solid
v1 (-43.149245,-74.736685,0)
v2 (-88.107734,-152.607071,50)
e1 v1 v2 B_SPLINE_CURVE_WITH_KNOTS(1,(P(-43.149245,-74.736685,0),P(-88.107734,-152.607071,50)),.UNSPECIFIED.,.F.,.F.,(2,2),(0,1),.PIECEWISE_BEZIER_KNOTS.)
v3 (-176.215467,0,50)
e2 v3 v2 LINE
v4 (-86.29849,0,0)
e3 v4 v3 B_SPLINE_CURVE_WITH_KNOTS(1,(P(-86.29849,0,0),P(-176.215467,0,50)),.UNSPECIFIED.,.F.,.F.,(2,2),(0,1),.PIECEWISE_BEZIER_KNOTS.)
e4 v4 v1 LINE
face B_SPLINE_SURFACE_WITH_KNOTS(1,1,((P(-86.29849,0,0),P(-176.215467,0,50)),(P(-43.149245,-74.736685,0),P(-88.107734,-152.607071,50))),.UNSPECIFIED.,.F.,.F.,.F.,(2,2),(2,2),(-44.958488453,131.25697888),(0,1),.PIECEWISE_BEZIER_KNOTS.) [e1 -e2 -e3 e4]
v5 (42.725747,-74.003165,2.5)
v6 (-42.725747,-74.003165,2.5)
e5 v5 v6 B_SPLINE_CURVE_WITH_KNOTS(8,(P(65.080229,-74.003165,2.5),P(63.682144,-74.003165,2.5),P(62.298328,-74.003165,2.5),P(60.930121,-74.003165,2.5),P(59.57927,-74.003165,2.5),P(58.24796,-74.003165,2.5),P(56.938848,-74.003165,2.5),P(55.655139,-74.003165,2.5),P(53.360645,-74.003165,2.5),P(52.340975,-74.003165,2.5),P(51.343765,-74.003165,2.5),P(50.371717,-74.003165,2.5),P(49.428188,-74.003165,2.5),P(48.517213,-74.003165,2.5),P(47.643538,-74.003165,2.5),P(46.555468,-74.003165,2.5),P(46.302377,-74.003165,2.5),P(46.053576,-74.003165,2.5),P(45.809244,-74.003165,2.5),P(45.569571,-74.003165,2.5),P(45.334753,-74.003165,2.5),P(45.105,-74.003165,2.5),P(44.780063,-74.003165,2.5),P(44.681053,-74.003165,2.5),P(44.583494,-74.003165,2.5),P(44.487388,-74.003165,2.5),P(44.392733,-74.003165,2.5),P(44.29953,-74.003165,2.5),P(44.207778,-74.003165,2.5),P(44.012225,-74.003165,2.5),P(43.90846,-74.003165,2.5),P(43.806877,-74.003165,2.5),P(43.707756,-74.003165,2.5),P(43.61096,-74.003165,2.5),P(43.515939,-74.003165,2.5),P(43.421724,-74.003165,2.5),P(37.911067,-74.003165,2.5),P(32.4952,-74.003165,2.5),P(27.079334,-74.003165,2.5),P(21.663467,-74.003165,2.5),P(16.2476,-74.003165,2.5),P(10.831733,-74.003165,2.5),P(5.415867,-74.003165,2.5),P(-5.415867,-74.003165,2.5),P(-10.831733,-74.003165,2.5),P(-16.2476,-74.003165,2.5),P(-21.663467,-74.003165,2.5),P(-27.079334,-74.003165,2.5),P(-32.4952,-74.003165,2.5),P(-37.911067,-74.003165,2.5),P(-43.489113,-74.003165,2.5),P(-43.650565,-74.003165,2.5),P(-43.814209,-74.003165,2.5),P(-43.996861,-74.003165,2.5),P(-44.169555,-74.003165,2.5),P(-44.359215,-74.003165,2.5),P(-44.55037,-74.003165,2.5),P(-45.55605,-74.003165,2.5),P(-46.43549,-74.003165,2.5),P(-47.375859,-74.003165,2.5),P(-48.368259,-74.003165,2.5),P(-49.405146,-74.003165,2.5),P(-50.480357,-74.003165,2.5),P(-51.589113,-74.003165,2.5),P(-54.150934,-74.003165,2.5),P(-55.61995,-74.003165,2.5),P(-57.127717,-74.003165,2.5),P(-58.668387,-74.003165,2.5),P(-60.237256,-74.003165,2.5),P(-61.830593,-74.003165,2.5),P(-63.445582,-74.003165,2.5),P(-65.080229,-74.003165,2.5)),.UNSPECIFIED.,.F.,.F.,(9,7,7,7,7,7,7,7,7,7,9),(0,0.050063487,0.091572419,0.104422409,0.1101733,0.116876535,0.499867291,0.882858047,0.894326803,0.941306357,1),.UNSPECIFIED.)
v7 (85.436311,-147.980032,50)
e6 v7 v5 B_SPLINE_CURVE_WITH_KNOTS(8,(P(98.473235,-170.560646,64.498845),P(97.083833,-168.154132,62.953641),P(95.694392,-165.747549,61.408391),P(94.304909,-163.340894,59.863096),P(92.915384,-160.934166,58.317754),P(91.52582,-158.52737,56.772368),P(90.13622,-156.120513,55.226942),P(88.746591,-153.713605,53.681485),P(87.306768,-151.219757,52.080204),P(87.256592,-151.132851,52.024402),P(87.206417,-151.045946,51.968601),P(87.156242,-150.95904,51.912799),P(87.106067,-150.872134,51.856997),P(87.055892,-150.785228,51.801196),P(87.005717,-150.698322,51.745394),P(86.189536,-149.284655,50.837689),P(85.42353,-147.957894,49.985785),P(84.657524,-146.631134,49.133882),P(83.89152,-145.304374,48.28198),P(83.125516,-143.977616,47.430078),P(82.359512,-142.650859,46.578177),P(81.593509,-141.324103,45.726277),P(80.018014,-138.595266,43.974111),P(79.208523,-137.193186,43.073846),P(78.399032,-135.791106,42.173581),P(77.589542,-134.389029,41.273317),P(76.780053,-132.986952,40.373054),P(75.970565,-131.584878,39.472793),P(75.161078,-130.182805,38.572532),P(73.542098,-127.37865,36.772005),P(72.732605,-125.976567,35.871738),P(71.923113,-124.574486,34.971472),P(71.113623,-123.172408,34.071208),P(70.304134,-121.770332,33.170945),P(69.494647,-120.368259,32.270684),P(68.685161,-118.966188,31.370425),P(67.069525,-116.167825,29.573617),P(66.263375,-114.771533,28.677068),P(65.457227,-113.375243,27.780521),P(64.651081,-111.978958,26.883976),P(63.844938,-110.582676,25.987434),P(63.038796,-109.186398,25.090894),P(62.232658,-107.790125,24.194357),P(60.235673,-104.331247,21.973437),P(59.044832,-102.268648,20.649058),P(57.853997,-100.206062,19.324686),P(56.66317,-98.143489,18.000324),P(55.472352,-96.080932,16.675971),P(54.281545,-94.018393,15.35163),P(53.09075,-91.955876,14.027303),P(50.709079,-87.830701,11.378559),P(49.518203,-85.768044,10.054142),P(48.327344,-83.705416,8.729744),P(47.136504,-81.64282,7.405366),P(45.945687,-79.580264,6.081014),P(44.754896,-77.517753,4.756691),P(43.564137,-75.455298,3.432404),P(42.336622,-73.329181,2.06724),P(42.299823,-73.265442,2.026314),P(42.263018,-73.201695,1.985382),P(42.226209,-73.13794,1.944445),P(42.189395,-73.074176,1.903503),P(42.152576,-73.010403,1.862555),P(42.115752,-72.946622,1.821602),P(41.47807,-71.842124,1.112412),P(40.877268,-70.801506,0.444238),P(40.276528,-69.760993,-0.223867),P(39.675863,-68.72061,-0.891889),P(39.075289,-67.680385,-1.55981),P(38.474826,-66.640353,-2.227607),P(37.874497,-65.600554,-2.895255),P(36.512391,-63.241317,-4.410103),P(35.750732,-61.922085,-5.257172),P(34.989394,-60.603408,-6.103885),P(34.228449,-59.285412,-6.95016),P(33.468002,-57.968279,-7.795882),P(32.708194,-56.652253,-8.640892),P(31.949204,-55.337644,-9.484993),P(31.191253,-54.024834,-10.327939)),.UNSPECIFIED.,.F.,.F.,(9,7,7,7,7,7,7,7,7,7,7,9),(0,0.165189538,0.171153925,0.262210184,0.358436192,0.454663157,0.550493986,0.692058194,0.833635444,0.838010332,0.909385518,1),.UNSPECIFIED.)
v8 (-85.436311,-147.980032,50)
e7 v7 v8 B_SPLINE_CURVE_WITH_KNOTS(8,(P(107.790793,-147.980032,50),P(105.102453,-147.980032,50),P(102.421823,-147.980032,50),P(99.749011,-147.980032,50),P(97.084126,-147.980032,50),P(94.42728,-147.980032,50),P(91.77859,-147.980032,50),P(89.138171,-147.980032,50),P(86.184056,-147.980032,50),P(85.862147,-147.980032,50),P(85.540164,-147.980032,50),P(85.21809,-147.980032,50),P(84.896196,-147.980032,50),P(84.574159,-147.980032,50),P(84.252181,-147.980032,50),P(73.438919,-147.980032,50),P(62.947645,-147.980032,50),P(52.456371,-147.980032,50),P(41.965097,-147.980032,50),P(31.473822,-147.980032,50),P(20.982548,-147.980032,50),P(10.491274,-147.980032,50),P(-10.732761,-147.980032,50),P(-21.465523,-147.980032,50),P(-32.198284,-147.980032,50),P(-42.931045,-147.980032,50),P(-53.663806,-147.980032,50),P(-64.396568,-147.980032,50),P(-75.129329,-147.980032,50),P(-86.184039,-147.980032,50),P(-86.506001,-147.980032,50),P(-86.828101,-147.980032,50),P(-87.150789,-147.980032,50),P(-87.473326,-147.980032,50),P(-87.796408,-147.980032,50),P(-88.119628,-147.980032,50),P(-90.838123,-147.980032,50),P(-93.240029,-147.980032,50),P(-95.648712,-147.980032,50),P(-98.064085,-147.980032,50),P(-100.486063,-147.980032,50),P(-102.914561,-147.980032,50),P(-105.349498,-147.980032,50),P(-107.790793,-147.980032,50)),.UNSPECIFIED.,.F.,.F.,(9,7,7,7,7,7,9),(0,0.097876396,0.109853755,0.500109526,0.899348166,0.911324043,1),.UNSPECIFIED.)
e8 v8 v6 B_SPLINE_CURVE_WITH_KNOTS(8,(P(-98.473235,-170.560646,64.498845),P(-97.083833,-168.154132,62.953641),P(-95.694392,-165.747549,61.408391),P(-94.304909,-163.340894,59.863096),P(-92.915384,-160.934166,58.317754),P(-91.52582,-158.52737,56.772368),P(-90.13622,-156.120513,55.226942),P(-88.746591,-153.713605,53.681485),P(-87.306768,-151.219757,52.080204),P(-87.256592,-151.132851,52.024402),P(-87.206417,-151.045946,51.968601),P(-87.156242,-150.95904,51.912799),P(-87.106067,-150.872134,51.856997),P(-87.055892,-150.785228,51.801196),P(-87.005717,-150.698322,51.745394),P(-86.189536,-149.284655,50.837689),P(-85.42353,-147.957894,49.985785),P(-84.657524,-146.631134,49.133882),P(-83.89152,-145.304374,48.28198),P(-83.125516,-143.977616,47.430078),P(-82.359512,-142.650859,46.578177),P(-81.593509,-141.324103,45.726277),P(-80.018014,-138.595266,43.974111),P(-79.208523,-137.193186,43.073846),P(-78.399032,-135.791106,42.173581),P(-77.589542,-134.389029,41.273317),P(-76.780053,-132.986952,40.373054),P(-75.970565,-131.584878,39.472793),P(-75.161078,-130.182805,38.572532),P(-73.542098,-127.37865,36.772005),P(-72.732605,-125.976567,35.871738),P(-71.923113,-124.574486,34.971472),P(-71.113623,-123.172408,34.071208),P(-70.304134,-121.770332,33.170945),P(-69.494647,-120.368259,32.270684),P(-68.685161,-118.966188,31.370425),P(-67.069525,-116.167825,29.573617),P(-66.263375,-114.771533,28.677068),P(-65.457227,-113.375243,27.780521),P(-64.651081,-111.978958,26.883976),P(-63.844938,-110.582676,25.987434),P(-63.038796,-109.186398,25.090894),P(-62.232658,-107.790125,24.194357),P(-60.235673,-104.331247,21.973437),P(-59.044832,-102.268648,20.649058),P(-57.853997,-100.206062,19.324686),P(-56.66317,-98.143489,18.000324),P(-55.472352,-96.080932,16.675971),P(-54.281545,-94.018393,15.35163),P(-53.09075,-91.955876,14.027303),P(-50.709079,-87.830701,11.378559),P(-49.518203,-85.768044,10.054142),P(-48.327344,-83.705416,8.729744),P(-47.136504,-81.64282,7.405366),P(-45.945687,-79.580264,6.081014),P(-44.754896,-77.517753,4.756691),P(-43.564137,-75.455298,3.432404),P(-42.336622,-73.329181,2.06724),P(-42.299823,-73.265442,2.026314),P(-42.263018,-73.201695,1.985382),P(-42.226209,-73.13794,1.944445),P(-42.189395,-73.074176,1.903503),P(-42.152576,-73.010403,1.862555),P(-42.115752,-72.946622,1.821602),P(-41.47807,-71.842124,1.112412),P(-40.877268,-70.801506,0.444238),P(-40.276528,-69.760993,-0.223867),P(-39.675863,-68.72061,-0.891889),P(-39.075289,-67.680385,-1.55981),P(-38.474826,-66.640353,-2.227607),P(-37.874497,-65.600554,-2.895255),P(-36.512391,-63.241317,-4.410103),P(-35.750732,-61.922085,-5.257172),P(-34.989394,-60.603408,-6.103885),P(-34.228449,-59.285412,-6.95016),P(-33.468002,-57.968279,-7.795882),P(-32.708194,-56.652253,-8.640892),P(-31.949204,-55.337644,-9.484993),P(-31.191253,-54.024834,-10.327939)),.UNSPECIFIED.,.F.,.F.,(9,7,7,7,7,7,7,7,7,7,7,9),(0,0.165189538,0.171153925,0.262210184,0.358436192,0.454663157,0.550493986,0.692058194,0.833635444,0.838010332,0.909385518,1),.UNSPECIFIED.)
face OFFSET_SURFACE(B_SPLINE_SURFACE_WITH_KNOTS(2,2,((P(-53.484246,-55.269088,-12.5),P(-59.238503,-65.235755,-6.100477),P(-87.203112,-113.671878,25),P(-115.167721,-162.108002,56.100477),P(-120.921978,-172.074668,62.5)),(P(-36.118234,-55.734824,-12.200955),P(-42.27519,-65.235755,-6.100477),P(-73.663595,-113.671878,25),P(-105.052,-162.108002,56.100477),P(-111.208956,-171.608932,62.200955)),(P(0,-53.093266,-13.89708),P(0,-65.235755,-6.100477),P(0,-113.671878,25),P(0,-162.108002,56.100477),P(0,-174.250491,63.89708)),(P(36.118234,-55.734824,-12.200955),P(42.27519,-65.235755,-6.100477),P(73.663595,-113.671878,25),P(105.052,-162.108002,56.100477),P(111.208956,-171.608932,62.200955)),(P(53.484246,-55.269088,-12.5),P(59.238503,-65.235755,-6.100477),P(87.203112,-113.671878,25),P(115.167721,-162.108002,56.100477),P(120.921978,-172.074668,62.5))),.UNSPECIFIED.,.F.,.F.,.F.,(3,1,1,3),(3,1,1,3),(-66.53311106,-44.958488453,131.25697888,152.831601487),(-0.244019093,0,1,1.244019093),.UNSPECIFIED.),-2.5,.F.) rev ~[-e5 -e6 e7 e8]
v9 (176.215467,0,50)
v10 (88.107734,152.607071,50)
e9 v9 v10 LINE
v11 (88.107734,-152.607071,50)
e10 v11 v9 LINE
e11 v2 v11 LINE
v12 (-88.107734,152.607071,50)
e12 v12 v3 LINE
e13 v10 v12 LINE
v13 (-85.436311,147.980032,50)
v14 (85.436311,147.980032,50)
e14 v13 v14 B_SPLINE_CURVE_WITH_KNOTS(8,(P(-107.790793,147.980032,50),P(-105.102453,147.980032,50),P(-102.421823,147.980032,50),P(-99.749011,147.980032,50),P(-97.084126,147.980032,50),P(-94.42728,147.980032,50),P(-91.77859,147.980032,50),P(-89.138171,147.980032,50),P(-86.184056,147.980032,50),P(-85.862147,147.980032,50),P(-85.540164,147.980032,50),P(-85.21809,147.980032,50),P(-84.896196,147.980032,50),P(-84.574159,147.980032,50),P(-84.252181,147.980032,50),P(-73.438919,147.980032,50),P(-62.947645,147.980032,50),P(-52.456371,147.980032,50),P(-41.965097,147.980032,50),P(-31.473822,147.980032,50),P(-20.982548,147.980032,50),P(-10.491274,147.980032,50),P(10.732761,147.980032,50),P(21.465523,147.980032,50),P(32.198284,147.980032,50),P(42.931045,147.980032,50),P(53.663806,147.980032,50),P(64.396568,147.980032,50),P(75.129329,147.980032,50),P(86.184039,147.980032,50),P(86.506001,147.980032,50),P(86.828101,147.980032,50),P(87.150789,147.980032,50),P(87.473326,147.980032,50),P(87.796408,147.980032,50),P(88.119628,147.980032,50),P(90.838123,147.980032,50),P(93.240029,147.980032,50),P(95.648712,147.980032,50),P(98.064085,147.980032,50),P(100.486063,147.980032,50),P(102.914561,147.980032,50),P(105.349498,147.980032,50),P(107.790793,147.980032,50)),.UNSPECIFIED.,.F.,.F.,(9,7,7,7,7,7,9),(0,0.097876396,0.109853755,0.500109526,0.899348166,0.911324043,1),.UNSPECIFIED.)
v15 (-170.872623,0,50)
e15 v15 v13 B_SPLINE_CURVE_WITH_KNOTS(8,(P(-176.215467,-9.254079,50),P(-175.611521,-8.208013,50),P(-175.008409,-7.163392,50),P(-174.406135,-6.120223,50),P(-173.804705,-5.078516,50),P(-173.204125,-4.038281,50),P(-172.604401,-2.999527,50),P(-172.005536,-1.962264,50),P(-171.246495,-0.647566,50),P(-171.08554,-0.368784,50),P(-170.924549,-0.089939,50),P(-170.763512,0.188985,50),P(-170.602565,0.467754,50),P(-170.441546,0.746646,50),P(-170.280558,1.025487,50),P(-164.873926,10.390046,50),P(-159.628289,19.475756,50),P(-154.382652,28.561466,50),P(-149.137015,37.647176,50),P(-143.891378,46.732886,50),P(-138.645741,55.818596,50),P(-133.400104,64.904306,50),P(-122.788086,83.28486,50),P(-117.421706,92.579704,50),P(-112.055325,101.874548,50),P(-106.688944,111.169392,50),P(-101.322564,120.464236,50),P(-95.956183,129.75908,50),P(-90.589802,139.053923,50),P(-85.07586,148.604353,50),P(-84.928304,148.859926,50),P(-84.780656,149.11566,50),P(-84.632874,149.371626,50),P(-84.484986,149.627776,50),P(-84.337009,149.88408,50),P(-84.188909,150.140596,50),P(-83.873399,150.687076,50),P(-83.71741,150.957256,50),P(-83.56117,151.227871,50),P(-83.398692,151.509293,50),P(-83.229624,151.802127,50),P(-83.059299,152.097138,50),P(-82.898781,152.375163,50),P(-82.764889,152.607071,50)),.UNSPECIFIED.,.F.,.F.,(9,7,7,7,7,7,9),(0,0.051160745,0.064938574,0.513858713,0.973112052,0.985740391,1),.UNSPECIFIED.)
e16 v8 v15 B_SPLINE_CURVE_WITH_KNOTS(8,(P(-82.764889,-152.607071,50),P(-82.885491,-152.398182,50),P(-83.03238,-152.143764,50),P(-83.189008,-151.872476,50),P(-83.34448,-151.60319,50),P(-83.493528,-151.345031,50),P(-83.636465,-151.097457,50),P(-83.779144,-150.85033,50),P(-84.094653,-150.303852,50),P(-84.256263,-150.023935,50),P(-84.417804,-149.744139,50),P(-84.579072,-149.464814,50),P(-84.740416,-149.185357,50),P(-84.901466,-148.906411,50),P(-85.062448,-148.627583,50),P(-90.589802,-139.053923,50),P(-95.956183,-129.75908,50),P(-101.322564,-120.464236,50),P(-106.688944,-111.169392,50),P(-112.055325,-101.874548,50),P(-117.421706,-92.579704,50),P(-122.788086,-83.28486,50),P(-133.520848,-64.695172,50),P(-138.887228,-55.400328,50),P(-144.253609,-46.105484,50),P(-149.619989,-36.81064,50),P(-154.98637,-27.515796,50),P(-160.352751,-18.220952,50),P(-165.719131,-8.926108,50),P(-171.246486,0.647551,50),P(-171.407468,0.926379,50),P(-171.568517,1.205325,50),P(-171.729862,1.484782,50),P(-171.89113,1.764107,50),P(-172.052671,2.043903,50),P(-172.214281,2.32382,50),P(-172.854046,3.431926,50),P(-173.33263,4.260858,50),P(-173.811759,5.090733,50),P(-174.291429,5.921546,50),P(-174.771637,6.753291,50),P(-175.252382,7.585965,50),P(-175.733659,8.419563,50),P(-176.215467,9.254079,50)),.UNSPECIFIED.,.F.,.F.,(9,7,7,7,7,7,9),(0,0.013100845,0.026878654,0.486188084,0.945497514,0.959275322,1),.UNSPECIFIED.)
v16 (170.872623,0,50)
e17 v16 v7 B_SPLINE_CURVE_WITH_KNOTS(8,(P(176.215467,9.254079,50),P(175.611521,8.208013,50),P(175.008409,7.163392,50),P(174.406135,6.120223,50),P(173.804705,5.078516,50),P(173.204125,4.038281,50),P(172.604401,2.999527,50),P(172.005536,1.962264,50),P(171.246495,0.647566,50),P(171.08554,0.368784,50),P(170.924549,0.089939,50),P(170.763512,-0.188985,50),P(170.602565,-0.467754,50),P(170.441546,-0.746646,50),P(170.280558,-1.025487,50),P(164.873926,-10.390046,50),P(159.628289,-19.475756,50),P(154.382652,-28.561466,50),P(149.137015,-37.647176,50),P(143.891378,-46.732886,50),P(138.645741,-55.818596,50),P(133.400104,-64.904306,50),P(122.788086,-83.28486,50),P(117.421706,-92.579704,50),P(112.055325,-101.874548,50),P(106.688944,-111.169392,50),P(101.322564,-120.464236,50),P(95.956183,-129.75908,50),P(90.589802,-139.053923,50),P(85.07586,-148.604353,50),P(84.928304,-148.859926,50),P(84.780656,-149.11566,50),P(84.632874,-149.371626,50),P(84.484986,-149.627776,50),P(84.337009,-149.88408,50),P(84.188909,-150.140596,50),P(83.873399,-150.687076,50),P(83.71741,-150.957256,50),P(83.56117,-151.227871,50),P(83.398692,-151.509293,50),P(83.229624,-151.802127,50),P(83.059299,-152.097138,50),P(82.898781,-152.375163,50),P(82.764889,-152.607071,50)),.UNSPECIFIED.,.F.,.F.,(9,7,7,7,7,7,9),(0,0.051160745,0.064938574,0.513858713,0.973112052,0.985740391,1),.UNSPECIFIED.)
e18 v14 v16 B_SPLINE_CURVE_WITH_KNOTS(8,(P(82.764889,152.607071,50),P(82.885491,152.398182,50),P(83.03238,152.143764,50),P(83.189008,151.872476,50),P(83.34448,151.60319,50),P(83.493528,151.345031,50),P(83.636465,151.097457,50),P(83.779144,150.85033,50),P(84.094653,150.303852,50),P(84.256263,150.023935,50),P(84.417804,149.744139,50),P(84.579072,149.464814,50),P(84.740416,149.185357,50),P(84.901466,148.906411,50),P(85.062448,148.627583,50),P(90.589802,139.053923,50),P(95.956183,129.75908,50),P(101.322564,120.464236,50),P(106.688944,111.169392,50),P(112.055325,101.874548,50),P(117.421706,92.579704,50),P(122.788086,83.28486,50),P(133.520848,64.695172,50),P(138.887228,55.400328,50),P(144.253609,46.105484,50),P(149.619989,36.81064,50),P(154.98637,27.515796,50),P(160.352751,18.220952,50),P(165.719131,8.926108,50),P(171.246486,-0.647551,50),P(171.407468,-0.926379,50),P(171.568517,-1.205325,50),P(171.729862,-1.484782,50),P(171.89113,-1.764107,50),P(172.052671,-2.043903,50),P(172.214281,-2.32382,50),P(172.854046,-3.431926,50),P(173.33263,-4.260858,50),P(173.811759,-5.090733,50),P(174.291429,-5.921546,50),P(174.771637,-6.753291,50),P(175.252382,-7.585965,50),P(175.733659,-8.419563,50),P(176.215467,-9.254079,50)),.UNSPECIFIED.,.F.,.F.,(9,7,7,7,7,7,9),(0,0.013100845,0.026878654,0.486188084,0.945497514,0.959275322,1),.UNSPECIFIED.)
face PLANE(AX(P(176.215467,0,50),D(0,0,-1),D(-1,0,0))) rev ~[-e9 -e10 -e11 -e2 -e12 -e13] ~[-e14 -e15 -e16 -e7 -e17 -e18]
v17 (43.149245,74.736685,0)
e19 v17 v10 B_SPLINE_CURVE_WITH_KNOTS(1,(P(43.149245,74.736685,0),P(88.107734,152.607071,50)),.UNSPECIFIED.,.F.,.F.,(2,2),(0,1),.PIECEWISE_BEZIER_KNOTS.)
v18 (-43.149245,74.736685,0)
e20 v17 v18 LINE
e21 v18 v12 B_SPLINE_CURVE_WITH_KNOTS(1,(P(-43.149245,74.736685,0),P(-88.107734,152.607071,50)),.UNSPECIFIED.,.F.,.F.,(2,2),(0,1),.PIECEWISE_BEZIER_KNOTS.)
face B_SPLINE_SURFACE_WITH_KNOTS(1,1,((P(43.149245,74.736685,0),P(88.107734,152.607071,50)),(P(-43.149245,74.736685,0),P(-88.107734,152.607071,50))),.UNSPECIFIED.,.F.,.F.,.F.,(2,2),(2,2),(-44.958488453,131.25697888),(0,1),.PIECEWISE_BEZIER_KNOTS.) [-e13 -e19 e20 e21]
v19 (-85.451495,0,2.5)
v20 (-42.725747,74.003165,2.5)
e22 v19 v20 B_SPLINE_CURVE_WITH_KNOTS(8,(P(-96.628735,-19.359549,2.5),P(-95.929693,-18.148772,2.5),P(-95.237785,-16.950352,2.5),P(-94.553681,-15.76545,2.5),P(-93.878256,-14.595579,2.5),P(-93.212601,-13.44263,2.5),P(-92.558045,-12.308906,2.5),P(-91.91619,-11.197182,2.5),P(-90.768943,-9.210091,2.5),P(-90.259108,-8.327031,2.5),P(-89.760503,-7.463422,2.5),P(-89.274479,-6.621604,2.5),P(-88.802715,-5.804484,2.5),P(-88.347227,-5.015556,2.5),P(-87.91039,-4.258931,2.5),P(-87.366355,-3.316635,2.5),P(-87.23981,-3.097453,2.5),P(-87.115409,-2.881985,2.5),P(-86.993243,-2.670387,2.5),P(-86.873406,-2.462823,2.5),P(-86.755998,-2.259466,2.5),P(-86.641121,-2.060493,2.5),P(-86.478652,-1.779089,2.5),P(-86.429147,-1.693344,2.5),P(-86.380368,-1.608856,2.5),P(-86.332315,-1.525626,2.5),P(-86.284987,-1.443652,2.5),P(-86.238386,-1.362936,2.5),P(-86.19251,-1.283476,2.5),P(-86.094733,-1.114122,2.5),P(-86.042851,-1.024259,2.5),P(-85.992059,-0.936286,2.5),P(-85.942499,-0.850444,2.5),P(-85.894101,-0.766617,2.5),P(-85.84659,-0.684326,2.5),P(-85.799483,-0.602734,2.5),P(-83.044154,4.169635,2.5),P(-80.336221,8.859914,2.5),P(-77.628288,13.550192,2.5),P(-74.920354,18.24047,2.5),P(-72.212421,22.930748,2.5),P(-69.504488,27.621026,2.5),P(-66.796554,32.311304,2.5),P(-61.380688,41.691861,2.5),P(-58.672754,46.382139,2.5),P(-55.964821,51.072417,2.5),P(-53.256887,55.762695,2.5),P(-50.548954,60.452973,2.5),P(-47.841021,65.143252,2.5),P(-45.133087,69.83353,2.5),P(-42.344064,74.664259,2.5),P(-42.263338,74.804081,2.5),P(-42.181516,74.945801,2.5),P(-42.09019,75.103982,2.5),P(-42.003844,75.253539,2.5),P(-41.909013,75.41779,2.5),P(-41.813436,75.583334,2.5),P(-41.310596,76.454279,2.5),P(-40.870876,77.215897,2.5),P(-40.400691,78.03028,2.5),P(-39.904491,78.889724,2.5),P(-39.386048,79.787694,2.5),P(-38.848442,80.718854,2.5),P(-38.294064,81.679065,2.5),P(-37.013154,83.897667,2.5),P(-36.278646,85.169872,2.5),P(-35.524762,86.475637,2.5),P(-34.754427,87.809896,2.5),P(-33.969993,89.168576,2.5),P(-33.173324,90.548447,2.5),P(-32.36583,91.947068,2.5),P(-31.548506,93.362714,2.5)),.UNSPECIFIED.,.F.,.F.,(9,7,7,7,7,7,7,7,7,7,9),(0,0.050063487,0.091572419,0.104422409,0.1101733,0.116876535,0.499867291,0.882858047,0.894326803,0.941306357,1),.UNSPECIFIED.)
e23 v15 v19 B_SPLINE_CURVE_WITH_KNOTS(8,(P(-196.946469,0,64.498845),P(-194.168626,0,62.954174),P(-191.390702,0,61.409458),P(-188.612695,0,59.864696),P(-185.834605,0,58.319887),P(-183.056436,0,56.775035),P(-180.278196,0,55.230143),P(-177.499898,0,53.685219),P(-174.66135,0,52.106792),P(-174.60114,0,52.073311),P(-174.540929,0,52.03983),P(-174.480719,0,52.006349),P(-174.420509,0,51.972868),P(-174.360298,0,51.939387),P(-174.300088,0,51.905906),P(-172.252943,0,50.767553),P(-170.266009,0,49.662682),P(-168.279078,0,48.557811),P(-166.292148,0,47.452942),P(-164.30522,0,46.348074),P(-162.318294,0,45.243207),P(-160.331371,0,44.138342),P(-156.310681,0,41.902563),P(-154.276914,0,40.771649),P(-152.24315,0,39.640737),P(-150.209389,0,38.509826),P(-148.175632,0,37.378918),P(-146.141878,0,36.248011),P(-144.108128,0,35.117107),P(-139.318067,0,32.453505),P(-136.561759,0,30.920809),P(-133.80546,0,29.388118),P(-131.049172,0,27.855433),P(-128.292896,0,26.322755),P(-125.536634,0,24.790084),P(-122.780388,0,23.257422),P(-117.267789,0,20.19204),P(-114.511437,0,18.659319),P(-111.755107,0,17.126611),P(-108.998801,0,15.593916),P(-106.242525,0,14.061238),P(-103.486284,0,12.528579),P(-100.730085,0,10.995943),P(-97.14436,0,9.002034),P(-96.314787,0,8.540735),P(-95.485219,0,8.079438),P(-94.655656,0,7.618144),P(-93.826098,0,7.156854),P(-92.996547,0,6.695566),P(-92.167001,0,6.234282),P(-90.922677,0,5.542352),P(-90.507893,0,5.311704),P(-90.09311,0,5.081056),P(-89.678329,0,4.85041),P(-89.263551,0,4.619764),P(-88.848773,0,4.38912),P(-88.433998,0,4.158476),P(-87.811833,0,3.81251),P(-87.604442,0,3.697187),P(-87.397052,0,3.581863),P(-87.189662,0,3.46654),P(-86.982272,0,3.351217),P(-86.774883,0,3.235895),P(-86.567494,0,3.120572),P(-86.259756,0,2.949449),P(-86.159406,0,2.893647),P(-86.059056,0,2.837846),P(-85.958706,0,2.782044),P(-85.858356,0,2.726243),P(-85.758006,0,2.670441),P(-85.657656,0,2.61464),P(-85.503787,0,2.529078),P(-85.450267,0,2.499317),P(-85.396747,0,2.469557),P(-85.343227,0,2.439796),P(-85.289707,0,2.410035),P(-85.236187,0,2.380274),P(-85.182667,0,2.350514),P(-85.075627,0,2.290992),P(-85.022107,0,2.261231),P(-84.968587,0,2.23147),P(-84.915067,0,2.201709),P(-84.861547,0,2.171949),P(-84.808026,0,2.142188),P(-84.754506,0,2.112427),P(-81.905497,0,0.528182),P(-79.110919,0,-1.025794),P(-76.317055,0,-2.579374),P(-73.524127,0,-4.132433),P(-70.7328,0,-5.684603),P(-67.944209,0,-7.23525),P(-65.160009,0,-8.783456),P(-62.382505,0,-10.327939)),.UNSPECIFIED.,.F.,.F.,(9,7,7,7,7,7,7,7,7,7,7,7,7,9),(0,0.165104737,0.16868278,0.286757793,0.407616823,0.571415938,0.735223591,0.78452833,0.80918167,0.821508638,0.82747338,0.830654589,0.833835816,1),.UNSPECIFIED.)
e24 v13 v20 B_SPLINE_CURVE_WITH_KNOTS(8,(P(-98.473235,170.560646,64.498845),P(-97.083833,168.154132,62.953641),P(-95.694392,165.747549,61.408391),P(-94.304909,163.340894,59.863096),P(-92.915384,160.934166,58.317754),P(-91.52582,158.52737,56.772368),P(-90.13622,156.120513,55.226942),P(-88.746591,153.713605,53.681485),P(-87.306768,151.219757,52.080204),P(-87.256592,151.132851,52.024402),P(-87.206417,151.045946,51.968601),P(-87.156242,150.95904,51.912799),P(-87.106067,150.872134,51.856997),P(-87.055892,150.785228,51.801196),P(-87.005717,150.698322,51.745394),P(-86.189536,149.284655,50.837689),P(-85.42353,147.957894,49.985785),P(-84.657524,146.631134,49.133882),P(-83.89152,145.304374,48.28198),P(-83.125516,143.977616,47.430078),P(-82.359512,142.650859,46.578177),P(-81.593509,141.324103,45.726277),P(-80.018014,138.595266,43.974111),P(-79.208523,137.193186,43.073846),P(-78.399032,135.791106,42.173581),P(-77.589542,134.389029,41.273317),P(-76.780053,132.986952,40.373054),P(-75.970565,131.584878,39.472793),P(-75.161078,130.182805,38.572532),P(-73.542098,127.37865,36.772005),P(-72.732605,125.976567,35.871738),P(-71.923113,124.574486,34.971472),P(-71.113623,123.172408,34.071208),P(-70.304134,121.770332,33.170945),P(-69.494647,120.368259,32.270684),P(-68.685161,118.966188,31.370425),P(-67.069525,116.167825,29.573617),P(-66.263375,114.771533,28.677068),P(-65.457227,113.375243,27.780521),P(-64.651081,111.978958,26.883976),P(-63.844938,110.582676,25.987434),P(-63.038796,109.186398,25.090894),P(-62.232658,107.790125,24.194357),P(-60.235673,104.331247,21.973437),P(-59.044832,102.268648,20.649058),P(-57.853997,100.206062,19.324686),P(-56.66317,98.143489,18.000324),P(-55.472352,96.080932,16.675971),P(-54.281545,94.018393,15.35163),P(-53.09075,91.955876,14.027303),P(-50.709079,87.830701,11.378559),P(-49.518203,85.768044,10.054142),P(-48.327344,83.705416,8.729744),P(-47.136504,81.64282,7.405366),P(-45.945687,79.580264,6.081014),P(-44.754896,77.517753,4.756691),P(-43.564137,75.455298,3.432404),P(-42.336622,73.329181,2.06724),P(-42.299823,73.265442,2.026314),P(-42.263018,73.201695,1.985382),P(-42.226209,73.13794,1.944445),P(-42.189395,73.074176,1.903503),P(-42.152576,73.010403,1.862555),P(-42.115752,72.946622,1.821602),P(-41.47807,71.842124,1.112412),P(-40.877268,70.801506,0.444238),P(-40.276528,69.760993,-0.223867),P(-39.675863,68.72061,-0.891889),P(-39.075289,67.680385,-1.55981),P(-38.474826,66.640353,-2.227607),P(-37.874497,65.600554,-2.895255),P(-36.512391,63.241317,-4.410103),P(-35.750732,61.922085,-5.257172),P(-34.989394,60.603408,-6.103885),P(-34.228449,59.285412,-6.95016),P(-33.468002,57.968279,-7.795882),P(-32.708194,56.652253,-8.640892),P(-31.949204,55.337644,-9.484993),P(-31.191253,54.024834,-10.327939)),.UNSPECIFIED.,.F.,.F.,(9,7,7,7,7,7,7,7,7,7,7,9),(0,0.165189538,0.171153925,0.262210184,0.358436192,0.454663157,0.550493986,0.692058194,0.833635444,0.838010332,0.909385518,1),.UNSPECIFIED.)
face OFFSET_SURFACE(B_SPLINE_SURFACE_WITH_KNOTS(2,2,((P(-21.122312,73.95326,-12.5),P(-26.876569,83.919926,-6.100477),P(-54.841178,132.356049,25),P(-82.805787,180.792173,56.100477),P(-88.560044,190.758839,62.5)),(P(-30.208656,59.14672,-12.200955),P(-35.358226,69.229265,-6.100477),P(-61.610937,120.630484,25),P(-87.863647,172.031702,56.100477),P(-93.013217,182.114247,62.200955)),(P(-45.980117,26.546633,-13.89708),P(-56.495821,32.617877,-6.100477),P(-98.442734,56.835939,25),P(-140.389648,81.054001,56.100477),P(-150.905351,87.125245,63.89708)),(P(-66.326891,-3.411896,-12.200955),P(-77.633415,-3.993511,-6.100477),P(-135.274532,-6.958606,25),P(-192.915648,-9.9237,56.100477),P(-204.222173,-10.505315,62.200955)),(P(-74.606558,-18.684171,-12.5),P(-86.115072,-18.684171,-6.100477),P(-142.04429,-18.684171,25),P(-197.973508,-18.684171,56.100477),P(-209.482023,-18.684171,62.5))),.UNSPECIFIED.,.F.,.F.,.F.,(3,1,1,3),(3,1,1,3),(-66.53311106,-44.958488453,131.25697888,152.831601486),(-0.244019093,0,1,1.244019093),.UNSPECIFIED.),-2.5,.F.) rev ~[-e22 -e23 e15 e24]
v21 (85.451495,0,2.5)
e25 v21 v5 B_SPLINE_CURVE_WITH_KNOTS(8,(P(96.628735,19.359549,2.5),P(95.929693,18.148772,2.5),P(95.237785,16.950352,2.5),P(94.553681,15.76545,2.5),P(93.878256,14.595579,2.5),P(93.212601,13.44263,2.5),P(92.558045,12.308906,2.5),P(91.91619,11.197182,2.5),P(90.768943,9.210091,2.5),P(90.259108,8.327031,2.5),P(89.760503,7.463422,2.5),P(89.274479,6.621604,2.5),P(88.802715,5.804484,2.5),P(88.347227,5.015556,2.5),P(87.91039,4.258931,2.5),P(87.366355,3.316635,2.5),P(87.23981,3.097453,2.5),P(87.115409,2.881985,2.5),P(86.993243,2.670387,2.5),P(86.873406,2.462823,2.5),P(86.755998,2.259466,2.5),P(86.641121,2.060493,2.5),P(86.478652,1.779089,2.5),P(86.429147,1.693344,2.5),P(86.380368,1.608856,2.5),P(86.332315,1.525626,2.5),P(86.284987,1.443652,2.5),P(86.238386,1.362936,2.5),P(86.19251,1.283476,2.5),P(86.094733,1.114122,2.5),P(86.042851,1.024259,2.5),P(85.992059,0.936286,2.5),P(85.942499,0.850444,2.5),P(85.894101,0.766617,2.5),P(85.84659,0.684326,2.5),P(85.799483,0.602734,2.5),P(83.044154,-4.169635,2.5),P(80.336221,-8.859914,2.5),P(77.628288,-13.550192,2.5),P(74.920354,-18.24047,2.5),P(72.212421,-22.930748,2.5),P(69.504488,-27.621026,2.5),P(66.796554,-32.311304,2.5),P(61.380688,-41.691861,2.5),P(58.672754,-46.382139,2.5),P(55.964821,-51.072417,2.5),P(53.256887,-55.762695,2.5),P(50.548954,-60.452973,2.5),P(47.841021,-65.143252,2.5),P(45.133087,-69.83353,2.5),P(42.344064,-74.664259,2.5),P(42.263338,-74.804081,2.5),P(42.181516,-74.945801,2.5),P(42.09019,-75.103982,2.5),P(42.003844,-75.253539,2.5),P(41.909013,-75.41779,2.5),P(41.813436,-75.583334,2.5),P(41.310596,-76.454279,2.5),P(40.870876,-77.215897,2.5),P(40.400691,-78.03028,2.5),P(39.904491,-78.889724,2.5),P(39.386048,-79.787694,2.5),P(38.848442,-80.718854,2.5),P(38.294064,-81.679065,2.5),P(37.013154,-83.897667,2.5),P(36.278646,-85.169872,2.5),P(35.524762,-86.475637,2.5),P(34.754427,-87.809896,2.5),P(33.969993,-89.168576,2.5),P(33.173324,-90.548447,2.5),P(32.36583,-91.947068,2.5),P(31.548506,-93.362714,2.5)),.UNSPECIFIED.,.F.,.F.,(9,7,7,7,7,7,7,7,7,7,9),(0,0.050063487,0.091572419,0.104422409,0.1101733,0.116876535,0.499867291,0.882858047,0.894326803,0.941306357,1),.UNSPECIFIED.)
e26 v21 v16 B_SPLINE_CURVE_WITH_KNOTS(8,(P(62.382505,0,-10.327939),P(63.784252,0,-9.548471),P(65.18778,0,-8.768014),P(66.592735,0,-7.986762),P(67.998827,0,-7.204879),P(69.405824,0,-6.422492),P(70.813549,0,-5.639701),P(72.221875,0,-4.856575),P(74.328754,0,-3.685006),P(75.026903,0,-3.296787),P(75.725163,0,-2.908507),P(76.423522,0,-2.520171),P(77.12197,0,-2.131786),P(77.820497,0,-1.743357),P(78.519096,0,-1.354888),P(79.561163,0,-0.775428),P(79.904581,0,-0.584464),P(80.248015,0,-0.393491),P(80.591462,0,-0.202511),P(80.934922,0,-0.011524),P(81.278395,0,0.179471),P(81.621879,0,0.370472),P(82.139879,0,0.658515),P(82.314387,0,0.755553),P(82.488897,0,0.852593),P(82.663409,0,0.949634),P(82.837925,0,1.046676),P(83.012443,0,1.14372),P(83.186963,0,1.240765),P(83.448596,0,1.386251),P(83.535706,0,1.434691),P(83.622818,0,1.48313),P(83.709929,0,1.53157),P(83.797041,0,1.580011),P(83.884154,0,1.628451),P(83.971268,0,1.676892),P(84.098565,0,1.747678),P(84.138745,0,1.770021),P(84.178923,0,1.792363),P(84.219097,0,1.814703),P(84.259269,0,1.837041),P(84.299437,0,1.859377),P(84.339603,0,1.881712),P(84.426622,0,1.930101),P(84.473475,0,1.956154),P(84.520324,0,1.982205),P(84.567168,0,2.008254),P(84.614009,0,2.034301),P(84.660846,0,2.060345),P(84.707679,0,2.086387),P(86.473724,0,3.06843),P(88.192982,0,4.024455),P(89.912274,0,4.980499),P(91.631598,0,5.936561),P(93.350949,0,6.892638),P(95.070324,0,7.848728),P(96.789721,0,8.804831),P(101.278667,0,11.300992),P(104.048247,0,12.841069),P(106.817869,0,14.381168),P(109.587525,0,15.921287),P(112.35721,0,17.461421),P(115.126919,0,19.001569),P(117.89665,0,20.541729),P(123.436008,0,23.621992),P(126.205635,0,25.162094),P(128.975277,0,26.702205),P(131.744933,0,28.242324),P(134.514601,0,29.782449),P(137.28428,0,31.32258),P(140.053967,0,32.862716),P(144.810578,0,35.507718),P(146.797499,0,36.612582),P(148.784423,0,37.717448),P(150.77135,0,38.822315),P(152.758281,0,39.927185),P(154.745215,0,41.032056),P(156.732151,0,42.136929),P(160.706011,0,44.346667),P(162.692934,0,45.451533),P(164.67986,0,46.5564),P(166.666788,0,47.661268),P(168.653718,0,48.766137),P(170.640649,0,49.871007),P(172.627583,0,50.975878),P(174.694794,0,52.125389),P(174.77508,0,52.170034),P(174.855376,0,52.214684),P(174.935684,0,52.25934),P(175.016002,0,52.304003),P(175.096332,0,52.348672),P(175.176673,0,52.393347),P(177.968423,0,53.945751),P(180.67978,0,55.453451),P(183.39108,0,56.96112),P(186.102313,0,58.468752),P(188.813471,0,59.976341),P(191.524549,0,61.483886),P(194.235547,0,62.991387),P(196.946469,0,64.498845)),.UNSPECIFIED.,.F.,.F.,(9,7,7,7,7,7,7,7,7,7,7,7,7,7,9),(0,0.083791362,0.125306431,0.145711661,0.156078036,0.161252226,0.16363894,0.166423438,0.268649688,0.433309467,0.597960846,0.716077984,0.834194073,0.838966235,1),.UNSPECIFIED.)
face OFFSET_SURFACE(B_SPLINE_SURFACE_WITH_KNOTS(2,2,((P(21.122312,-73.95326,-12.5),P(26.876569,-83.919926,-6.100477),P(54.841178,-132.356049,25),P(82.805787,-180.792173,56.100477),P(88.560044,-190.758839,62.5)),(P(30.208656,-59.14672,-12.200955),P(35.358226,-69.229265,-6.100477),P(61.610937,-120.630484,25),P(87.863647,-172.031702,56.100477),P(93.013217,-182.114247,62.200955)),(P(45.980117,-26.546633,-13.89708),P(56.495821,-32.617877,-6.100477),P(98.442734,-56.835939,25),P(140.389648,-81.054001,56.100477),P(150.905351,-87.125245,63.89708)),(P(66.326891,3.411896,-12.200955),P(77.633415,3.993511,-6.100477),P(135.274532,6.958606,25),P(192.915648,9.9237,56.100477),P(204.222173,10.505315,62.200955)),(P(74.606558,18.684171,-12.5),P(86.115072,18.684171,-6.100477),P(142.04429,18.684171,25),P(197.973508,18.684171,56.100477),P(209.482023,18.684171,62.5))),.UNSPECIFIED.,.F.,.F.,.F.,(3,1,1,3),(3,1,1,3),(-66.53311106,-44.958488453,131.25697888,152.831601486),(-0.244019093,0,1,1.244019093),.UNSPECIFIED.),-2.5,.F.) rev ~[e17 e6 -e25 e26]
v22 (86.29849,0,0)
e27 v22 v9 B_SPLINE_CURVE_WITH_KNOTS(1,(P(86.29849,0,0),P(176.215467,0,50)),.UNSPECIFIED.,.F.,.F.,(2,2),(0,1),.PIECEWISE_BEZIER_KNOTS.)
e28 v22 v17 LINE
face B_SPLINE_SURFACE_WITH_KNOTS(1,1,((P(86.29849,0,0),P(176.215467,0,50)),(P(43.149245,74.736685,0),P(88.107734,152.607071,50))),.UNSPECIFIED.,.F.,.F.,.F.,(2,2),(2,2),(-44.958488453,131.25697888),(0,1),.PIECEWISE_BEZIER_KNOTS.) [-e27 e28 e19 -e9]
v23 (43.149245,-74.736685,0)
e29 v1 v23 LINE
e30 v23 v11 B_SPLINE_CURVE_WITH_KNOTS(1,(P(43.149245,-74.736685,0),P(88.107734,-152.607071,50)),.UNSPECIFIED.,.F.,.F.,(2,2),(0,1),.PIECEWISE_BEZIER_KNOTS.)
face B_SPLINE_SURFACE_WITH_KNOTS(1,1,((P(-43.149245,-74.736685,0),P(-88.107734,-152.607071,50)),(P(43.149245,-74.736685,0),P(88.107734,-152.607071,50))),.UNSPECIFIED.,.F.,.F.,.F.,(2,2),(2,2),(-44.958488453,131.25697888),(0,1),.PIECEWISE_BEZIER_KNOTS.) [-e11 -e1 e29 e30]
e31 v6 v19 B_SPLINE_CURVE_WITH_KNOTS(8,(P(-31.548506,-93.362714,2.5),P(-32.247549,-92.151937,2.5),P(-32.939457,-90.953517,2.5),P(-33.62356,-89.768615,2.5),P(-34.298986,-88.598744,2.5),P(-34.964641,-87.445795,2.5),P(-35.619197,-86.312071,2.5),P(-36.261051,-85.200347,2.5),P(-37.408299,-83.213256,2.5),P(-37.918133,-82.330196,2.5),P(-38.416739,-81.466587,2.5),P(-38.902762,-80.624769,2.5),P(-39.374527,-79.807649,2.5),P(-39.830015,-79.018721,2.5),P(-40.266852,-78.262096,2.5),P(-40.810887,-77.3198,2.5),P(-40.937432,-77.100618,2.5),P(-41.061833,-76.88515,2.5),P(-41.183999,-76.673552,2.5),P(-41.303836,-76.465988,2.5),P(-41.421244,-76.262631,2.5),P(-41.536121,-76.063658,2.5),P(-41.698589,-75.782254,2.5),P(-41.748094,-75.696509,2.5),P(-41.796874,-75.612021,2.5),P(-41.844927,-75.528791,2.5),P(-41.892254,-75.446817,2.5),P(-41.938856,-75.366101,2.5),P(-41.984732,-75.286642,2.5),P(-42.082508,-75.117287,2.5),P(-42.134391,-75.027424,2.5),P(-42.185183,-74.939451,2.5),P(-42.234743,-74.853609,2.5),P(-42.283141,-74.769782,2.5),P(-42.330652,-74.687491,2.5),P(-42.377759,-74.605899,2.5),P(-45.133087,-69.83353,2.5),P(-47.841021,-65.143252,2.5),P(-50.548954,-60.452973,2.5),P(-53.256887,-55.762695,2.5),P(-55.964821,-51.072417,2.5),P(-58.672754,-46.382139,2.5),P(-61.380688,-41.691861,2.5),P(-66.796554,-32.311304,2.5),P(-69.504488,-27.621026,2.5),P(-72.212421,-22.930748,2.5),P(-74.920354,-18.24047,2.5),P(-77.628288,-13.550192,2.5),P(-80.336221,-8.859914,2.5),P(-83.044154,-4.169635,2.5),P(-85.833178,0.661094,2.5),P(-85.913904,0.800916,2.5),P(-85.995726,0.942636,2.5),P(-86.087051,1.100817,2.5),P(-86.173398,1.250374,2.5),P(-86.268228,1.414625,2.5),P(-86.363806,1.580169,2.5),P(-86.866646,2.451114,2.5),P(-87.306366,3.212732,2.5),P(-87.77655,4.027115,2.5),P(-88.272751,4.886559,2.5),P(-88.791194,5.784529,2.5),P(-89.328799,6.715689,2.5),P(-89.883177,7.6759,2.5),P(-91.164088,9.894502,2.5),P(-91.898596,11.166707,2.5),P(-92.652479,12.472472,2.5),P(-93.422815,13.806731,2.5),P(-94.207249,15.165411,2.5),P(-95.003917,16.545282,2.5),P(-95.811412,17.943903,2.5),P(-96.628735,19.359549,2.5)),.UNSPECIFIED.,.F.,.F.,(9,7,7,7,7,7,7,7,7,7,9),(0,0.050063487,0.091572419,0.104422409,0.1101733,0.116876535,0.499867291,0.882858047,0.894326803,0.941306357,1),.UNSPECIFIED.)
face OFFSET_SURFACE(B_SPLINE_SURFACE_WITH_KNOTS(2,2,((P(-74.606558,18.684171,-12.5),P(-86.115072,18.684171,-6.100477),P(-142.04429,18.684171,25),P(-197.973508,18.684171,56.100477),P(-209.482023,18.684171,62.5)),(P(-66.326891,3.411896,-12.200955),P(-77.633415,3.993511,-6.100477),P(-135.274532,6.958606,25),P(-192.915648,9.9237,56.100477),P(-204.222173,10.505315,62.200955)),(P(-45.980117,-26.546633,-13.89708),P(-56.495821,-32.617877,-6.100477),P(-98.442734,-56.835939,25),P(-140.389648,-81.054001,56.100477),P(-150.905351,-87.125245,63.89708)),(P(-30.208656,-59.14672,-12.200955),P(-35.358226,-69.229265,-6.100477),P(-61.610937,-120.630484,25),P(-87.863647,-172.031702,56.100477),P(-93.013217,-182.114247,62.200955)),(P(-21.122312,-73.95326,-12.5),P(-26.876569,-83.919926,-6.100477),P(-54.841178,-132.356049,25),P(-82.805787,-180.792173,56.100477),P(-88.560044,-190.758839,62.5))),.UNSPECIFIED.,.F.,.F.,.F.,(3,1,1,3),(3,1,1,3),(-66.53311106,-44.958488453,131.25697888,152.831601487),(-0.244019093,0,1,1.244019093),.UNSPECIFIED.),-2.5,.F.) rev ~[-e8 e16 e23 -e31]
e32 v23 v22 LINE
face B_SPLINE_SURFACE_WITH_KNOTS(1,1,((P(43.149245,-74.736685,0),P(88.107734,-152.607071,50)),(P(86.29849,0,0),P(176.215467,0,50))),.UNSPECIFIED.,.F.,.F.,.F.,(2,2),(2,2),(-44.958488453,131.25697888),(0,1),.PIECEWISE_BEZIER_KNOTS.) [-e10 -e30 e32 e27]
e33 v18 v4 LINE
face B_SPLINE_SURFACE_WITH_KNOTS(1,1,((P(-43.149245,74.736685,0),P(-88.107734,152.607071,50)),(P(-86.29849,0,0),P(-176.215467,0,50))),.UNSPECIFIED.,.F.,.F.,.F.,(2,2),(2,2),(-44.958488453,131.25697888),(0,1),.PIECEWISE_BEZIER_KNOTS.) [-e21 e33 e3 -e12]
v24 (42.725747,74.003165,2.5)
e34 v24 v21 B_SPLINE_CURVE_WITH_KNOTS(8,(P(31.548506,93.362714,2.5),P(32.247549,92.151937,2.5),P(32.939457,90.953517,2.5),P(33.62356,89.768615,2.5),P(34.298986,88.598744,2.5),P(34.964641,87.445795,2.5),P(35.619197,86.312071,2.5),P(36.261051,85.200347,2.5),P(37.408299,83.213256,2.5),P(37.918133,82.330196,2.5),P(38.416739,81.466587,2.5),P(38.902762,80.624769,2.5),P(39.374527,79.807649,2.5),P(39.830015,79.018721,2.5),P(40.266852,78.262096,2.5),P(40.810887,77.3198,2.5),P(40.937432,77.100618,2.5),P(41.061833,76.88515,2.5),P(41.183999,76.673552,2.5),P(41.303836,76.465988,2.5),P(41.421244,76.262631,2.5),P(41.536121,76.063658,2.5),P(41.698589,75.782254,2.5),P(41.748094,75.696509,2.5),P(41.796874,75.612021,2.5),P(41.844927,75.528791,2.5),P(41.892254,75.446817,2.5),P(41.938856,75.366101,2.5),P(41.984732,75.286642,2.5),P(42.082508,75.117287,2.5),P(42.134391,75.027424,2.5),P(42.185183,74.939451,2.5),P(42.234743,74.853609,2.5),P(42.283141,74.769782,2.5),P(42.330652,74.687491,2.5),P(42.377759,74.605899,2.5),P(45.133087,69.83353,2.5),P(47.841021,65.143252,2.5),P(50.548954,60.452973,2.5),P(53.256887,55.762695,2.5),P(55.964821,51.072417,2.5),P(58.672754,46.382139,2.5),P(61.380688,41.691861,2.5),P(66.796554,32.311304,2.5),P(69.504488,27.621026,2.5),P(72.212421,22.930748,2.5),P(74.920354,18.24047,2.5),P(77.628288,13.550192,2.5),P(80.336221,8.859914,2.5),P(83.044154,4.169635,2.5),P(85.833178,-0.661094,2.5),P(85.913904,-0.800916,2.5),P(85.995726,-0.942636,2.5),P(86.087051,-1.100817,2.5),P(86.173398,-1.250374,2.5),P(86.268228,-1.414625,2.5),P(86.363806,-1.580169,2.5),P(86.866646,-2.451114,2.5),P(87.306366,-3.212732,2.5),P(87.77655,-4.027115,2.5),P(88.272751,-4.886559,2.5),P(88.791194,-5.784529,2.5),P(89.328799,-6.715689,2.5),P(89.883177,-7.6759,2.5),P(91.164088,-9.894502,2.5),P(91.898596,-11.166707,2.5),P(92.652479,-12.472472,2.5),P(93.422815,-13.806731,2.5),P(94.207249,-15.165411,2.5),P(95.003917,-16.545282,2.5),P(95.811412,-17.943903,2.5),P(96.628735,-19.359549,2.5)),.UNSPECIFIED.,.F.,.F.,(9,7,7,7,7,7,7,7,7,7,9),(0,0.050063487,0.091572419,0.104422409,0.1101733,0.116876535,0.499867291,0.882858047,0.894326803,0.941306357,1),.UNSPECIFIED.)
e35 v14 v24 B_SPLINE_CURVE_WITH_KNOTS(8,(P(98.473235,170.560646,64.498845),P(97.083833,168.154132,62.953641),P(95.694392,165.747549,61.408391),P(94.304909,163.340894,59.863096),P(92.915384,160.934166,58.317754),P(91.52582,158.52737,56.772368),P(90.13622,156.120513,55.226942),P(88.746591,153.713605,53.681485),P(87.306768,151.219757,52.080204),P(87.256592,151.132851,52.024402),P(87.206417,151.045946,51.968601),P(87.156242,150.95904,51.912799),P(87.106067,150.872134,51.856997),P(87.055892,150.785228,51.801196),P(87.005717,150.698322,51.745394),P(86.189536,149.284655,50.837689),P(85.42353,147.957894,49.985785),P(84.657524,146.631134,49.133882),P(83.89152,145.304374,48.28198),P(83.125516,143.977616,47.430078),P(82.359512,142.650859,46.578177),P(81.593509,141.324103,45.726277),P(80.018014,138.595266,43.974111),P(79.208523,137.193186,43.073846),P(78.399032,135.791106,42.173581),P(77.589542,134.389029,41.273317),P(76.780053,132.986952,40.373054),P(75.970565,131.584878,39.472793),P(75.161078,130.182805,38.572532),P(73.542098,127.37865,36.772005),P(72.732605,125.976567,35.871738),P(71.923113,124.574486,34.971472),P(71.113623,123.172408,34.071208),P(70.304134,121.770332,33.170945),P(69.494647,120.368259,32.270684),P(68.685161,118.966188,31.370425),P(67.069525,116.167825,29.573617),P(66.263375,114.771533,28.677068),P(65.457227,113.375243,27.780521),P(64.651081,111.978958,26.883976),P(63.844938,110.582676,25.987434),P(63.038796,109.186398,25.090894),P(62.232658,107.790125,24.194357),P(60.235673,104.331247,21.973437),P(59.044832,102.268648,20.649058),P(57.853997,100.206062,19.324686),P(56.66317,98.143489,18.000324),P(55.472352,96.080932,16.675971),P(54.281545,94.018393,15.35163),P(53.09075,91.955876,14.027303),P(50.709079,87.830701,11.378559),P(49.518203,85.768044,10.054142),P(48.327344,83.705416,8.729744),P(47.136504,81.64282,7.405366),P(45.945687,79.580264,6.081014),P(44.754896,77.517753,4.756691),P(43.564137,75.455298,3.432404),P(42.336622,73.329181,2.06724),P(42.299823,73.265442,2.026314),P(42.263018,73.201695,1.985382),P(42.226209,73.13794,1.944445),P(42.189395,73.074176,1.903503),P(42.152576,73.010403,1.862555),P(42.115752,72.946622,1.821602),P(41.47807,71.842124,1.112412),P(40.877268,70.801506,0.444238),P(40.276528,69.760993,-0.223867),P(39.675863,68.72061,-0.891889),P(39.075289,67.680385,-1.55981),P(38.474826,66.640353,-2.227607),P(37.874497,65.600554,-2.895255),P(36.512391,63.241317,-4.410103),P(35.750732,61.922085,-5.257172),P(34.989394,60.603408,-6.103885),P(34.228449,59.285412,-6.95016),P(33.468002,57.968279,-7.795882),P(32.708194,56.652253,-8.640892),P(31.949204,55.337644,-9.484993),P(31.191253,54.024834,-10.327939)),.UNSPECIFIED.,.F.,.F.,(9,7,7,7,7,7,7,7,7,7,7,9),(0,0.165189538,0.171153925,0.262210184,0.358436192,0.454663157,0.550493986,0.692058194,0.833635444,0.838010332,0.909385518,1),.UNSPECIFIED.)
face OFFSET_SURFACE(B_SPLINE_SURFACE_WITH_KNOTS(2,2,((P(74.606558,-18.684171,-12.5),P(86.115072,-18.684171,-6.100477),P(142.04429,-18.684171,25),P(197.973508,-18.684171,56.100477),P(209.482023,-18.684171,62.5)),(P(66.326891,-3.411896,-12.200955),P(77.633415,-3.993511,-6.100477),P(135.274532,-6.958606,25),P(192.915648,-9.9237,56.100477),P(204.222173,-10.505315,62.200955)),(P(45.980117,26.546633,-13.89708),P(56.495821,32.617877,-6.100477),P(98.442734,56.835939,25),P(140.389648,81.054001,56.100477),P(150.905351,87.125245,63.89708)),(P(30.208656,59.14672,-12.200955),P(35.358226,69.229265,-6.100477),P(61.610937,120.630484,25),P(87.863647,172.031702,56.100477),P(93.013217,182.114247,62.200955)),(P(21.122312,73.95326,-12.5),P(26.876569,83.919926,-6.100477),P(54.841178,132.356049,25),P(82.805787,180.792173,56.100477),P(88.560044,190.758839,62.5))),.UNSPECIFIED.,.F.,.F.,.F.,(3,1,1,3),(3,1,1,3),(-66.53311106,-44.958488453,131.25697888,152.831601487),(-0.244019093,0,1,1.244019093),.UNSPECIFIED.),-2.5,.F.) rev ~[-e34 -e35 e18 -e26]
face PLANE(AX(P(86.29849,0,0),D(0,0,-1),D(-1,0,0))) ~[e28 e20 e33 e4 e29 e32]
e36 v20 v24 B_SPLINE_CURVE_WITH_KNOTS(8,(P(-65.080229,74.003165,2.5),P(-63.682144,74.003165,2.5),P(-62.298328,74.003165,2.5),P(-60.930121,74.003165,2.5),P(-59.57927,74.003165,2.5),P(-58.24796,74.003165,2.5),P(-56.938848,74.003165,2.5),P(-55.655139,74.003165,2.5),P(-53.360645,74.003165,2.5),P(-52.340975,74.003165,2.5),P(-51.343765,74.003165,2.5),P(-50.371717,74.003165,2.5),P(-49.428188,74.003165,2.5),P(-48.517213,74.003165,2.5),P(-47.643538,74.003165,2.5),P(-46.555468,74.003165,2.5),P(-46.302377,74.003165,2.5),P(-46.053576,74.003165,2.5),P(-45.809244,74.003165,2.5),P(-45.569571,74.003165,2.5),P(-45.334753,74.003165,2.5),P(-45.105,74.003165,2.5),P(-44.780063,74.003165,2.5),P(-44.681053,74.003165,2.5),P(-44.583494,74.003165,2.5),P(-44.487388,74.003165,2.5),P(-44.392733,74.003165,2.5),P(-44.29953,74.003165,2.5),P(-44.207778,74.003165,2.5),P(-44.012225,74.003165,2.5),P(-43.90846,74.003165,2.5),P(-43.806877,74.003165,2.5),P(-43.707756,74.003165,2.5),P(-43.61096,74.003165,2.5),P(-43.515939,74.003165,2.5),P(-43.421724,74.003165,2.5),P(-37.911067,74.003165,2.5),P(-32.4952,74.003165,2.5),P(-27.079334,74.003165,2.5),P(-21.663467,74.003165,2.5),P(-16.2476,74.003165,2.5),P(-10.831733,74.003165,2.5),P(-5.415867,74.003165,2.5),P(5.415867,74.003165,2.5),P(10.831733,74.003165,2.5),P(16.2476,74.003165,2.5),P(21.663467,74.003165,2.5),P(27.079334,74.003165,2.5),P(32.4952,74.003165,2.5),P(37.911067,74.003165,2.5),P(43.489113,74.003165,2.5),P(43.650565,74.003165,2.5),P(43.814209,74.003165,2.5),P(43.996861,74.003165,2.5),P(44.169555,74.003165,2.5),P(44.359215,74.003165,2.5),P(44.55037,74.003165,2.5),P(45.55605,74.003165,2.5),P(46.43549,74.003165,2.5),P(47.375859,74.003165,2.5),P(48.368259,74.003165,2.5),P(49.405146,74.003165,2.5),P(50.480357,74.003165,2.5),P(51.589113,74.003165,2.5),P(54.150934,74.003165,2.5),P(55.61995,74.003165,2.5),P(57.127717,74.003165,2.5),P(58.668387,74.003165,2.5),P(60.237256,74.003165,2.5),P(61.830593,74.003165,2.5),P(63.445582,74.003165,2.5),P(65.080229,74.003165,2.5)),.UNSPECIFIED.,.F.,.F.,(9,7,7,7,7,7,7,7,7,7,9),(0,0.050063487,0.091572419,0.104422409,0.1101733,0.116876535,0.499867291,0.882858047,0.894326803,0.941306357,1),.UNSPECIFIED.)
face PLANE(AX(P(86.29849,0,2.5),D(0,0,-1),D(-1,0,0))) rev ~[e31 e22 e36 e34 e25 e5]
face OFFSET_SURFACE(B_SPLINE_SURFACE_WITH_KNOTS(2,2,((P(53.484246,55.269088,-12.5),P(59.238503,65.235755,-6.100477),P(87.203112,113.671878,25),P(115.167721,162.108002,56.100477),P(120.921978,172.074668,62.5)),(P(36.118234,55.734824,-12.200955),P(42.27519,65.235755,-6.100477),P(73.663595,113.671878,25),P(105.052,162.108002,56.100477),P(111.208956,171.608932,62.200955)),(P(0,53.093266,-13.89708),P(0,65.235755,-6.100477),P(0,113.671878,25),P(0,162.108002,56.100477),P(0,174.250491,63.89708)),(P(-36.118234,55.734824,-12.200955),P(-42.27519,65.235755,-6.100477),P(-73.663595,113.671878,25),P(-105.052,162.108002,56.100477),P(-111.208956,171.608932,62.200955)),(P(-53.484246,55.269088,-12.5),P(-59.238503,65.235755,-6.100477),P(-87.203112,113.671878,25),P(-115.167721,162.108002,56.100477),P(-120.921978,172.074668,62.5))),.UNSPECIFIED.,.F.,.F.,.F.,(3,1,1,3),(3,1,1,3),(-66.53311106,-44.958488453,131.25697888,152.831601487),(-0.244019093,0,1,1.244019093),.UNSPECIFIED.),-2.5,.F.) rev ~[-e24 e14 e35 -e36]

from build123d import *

# Parameters (mm, degrees)
F1_DEPTH = 50
F1_TAPER = -57.2957795131
F2_T     = -2.5


with BuildPart() as f1:
    # F0 (on Top) → F1 (new body)
    with BuildSketch(Plane.XY):
        Polygon((86.2984904265, 0), (43.1492452133, 74.7366850176), (-43.1492452133, 74.7366850176), (-86.2984904265, 0), (-43.1492452133, -74.7366850176), (43.1492452133, -74.7366850176), align=None)
    extrude(amount=F1_DEPTH, taper=F1_TAPER)

    # F2
    f2_openings = [f1.faces().sort_by_distance(p)[0] for p in [
        (0, 0, 50),
    ]]
    offset(amount=F2_T, openings=f2_openings, kind=Kind.INTERSECTION)


solid = f1.part
